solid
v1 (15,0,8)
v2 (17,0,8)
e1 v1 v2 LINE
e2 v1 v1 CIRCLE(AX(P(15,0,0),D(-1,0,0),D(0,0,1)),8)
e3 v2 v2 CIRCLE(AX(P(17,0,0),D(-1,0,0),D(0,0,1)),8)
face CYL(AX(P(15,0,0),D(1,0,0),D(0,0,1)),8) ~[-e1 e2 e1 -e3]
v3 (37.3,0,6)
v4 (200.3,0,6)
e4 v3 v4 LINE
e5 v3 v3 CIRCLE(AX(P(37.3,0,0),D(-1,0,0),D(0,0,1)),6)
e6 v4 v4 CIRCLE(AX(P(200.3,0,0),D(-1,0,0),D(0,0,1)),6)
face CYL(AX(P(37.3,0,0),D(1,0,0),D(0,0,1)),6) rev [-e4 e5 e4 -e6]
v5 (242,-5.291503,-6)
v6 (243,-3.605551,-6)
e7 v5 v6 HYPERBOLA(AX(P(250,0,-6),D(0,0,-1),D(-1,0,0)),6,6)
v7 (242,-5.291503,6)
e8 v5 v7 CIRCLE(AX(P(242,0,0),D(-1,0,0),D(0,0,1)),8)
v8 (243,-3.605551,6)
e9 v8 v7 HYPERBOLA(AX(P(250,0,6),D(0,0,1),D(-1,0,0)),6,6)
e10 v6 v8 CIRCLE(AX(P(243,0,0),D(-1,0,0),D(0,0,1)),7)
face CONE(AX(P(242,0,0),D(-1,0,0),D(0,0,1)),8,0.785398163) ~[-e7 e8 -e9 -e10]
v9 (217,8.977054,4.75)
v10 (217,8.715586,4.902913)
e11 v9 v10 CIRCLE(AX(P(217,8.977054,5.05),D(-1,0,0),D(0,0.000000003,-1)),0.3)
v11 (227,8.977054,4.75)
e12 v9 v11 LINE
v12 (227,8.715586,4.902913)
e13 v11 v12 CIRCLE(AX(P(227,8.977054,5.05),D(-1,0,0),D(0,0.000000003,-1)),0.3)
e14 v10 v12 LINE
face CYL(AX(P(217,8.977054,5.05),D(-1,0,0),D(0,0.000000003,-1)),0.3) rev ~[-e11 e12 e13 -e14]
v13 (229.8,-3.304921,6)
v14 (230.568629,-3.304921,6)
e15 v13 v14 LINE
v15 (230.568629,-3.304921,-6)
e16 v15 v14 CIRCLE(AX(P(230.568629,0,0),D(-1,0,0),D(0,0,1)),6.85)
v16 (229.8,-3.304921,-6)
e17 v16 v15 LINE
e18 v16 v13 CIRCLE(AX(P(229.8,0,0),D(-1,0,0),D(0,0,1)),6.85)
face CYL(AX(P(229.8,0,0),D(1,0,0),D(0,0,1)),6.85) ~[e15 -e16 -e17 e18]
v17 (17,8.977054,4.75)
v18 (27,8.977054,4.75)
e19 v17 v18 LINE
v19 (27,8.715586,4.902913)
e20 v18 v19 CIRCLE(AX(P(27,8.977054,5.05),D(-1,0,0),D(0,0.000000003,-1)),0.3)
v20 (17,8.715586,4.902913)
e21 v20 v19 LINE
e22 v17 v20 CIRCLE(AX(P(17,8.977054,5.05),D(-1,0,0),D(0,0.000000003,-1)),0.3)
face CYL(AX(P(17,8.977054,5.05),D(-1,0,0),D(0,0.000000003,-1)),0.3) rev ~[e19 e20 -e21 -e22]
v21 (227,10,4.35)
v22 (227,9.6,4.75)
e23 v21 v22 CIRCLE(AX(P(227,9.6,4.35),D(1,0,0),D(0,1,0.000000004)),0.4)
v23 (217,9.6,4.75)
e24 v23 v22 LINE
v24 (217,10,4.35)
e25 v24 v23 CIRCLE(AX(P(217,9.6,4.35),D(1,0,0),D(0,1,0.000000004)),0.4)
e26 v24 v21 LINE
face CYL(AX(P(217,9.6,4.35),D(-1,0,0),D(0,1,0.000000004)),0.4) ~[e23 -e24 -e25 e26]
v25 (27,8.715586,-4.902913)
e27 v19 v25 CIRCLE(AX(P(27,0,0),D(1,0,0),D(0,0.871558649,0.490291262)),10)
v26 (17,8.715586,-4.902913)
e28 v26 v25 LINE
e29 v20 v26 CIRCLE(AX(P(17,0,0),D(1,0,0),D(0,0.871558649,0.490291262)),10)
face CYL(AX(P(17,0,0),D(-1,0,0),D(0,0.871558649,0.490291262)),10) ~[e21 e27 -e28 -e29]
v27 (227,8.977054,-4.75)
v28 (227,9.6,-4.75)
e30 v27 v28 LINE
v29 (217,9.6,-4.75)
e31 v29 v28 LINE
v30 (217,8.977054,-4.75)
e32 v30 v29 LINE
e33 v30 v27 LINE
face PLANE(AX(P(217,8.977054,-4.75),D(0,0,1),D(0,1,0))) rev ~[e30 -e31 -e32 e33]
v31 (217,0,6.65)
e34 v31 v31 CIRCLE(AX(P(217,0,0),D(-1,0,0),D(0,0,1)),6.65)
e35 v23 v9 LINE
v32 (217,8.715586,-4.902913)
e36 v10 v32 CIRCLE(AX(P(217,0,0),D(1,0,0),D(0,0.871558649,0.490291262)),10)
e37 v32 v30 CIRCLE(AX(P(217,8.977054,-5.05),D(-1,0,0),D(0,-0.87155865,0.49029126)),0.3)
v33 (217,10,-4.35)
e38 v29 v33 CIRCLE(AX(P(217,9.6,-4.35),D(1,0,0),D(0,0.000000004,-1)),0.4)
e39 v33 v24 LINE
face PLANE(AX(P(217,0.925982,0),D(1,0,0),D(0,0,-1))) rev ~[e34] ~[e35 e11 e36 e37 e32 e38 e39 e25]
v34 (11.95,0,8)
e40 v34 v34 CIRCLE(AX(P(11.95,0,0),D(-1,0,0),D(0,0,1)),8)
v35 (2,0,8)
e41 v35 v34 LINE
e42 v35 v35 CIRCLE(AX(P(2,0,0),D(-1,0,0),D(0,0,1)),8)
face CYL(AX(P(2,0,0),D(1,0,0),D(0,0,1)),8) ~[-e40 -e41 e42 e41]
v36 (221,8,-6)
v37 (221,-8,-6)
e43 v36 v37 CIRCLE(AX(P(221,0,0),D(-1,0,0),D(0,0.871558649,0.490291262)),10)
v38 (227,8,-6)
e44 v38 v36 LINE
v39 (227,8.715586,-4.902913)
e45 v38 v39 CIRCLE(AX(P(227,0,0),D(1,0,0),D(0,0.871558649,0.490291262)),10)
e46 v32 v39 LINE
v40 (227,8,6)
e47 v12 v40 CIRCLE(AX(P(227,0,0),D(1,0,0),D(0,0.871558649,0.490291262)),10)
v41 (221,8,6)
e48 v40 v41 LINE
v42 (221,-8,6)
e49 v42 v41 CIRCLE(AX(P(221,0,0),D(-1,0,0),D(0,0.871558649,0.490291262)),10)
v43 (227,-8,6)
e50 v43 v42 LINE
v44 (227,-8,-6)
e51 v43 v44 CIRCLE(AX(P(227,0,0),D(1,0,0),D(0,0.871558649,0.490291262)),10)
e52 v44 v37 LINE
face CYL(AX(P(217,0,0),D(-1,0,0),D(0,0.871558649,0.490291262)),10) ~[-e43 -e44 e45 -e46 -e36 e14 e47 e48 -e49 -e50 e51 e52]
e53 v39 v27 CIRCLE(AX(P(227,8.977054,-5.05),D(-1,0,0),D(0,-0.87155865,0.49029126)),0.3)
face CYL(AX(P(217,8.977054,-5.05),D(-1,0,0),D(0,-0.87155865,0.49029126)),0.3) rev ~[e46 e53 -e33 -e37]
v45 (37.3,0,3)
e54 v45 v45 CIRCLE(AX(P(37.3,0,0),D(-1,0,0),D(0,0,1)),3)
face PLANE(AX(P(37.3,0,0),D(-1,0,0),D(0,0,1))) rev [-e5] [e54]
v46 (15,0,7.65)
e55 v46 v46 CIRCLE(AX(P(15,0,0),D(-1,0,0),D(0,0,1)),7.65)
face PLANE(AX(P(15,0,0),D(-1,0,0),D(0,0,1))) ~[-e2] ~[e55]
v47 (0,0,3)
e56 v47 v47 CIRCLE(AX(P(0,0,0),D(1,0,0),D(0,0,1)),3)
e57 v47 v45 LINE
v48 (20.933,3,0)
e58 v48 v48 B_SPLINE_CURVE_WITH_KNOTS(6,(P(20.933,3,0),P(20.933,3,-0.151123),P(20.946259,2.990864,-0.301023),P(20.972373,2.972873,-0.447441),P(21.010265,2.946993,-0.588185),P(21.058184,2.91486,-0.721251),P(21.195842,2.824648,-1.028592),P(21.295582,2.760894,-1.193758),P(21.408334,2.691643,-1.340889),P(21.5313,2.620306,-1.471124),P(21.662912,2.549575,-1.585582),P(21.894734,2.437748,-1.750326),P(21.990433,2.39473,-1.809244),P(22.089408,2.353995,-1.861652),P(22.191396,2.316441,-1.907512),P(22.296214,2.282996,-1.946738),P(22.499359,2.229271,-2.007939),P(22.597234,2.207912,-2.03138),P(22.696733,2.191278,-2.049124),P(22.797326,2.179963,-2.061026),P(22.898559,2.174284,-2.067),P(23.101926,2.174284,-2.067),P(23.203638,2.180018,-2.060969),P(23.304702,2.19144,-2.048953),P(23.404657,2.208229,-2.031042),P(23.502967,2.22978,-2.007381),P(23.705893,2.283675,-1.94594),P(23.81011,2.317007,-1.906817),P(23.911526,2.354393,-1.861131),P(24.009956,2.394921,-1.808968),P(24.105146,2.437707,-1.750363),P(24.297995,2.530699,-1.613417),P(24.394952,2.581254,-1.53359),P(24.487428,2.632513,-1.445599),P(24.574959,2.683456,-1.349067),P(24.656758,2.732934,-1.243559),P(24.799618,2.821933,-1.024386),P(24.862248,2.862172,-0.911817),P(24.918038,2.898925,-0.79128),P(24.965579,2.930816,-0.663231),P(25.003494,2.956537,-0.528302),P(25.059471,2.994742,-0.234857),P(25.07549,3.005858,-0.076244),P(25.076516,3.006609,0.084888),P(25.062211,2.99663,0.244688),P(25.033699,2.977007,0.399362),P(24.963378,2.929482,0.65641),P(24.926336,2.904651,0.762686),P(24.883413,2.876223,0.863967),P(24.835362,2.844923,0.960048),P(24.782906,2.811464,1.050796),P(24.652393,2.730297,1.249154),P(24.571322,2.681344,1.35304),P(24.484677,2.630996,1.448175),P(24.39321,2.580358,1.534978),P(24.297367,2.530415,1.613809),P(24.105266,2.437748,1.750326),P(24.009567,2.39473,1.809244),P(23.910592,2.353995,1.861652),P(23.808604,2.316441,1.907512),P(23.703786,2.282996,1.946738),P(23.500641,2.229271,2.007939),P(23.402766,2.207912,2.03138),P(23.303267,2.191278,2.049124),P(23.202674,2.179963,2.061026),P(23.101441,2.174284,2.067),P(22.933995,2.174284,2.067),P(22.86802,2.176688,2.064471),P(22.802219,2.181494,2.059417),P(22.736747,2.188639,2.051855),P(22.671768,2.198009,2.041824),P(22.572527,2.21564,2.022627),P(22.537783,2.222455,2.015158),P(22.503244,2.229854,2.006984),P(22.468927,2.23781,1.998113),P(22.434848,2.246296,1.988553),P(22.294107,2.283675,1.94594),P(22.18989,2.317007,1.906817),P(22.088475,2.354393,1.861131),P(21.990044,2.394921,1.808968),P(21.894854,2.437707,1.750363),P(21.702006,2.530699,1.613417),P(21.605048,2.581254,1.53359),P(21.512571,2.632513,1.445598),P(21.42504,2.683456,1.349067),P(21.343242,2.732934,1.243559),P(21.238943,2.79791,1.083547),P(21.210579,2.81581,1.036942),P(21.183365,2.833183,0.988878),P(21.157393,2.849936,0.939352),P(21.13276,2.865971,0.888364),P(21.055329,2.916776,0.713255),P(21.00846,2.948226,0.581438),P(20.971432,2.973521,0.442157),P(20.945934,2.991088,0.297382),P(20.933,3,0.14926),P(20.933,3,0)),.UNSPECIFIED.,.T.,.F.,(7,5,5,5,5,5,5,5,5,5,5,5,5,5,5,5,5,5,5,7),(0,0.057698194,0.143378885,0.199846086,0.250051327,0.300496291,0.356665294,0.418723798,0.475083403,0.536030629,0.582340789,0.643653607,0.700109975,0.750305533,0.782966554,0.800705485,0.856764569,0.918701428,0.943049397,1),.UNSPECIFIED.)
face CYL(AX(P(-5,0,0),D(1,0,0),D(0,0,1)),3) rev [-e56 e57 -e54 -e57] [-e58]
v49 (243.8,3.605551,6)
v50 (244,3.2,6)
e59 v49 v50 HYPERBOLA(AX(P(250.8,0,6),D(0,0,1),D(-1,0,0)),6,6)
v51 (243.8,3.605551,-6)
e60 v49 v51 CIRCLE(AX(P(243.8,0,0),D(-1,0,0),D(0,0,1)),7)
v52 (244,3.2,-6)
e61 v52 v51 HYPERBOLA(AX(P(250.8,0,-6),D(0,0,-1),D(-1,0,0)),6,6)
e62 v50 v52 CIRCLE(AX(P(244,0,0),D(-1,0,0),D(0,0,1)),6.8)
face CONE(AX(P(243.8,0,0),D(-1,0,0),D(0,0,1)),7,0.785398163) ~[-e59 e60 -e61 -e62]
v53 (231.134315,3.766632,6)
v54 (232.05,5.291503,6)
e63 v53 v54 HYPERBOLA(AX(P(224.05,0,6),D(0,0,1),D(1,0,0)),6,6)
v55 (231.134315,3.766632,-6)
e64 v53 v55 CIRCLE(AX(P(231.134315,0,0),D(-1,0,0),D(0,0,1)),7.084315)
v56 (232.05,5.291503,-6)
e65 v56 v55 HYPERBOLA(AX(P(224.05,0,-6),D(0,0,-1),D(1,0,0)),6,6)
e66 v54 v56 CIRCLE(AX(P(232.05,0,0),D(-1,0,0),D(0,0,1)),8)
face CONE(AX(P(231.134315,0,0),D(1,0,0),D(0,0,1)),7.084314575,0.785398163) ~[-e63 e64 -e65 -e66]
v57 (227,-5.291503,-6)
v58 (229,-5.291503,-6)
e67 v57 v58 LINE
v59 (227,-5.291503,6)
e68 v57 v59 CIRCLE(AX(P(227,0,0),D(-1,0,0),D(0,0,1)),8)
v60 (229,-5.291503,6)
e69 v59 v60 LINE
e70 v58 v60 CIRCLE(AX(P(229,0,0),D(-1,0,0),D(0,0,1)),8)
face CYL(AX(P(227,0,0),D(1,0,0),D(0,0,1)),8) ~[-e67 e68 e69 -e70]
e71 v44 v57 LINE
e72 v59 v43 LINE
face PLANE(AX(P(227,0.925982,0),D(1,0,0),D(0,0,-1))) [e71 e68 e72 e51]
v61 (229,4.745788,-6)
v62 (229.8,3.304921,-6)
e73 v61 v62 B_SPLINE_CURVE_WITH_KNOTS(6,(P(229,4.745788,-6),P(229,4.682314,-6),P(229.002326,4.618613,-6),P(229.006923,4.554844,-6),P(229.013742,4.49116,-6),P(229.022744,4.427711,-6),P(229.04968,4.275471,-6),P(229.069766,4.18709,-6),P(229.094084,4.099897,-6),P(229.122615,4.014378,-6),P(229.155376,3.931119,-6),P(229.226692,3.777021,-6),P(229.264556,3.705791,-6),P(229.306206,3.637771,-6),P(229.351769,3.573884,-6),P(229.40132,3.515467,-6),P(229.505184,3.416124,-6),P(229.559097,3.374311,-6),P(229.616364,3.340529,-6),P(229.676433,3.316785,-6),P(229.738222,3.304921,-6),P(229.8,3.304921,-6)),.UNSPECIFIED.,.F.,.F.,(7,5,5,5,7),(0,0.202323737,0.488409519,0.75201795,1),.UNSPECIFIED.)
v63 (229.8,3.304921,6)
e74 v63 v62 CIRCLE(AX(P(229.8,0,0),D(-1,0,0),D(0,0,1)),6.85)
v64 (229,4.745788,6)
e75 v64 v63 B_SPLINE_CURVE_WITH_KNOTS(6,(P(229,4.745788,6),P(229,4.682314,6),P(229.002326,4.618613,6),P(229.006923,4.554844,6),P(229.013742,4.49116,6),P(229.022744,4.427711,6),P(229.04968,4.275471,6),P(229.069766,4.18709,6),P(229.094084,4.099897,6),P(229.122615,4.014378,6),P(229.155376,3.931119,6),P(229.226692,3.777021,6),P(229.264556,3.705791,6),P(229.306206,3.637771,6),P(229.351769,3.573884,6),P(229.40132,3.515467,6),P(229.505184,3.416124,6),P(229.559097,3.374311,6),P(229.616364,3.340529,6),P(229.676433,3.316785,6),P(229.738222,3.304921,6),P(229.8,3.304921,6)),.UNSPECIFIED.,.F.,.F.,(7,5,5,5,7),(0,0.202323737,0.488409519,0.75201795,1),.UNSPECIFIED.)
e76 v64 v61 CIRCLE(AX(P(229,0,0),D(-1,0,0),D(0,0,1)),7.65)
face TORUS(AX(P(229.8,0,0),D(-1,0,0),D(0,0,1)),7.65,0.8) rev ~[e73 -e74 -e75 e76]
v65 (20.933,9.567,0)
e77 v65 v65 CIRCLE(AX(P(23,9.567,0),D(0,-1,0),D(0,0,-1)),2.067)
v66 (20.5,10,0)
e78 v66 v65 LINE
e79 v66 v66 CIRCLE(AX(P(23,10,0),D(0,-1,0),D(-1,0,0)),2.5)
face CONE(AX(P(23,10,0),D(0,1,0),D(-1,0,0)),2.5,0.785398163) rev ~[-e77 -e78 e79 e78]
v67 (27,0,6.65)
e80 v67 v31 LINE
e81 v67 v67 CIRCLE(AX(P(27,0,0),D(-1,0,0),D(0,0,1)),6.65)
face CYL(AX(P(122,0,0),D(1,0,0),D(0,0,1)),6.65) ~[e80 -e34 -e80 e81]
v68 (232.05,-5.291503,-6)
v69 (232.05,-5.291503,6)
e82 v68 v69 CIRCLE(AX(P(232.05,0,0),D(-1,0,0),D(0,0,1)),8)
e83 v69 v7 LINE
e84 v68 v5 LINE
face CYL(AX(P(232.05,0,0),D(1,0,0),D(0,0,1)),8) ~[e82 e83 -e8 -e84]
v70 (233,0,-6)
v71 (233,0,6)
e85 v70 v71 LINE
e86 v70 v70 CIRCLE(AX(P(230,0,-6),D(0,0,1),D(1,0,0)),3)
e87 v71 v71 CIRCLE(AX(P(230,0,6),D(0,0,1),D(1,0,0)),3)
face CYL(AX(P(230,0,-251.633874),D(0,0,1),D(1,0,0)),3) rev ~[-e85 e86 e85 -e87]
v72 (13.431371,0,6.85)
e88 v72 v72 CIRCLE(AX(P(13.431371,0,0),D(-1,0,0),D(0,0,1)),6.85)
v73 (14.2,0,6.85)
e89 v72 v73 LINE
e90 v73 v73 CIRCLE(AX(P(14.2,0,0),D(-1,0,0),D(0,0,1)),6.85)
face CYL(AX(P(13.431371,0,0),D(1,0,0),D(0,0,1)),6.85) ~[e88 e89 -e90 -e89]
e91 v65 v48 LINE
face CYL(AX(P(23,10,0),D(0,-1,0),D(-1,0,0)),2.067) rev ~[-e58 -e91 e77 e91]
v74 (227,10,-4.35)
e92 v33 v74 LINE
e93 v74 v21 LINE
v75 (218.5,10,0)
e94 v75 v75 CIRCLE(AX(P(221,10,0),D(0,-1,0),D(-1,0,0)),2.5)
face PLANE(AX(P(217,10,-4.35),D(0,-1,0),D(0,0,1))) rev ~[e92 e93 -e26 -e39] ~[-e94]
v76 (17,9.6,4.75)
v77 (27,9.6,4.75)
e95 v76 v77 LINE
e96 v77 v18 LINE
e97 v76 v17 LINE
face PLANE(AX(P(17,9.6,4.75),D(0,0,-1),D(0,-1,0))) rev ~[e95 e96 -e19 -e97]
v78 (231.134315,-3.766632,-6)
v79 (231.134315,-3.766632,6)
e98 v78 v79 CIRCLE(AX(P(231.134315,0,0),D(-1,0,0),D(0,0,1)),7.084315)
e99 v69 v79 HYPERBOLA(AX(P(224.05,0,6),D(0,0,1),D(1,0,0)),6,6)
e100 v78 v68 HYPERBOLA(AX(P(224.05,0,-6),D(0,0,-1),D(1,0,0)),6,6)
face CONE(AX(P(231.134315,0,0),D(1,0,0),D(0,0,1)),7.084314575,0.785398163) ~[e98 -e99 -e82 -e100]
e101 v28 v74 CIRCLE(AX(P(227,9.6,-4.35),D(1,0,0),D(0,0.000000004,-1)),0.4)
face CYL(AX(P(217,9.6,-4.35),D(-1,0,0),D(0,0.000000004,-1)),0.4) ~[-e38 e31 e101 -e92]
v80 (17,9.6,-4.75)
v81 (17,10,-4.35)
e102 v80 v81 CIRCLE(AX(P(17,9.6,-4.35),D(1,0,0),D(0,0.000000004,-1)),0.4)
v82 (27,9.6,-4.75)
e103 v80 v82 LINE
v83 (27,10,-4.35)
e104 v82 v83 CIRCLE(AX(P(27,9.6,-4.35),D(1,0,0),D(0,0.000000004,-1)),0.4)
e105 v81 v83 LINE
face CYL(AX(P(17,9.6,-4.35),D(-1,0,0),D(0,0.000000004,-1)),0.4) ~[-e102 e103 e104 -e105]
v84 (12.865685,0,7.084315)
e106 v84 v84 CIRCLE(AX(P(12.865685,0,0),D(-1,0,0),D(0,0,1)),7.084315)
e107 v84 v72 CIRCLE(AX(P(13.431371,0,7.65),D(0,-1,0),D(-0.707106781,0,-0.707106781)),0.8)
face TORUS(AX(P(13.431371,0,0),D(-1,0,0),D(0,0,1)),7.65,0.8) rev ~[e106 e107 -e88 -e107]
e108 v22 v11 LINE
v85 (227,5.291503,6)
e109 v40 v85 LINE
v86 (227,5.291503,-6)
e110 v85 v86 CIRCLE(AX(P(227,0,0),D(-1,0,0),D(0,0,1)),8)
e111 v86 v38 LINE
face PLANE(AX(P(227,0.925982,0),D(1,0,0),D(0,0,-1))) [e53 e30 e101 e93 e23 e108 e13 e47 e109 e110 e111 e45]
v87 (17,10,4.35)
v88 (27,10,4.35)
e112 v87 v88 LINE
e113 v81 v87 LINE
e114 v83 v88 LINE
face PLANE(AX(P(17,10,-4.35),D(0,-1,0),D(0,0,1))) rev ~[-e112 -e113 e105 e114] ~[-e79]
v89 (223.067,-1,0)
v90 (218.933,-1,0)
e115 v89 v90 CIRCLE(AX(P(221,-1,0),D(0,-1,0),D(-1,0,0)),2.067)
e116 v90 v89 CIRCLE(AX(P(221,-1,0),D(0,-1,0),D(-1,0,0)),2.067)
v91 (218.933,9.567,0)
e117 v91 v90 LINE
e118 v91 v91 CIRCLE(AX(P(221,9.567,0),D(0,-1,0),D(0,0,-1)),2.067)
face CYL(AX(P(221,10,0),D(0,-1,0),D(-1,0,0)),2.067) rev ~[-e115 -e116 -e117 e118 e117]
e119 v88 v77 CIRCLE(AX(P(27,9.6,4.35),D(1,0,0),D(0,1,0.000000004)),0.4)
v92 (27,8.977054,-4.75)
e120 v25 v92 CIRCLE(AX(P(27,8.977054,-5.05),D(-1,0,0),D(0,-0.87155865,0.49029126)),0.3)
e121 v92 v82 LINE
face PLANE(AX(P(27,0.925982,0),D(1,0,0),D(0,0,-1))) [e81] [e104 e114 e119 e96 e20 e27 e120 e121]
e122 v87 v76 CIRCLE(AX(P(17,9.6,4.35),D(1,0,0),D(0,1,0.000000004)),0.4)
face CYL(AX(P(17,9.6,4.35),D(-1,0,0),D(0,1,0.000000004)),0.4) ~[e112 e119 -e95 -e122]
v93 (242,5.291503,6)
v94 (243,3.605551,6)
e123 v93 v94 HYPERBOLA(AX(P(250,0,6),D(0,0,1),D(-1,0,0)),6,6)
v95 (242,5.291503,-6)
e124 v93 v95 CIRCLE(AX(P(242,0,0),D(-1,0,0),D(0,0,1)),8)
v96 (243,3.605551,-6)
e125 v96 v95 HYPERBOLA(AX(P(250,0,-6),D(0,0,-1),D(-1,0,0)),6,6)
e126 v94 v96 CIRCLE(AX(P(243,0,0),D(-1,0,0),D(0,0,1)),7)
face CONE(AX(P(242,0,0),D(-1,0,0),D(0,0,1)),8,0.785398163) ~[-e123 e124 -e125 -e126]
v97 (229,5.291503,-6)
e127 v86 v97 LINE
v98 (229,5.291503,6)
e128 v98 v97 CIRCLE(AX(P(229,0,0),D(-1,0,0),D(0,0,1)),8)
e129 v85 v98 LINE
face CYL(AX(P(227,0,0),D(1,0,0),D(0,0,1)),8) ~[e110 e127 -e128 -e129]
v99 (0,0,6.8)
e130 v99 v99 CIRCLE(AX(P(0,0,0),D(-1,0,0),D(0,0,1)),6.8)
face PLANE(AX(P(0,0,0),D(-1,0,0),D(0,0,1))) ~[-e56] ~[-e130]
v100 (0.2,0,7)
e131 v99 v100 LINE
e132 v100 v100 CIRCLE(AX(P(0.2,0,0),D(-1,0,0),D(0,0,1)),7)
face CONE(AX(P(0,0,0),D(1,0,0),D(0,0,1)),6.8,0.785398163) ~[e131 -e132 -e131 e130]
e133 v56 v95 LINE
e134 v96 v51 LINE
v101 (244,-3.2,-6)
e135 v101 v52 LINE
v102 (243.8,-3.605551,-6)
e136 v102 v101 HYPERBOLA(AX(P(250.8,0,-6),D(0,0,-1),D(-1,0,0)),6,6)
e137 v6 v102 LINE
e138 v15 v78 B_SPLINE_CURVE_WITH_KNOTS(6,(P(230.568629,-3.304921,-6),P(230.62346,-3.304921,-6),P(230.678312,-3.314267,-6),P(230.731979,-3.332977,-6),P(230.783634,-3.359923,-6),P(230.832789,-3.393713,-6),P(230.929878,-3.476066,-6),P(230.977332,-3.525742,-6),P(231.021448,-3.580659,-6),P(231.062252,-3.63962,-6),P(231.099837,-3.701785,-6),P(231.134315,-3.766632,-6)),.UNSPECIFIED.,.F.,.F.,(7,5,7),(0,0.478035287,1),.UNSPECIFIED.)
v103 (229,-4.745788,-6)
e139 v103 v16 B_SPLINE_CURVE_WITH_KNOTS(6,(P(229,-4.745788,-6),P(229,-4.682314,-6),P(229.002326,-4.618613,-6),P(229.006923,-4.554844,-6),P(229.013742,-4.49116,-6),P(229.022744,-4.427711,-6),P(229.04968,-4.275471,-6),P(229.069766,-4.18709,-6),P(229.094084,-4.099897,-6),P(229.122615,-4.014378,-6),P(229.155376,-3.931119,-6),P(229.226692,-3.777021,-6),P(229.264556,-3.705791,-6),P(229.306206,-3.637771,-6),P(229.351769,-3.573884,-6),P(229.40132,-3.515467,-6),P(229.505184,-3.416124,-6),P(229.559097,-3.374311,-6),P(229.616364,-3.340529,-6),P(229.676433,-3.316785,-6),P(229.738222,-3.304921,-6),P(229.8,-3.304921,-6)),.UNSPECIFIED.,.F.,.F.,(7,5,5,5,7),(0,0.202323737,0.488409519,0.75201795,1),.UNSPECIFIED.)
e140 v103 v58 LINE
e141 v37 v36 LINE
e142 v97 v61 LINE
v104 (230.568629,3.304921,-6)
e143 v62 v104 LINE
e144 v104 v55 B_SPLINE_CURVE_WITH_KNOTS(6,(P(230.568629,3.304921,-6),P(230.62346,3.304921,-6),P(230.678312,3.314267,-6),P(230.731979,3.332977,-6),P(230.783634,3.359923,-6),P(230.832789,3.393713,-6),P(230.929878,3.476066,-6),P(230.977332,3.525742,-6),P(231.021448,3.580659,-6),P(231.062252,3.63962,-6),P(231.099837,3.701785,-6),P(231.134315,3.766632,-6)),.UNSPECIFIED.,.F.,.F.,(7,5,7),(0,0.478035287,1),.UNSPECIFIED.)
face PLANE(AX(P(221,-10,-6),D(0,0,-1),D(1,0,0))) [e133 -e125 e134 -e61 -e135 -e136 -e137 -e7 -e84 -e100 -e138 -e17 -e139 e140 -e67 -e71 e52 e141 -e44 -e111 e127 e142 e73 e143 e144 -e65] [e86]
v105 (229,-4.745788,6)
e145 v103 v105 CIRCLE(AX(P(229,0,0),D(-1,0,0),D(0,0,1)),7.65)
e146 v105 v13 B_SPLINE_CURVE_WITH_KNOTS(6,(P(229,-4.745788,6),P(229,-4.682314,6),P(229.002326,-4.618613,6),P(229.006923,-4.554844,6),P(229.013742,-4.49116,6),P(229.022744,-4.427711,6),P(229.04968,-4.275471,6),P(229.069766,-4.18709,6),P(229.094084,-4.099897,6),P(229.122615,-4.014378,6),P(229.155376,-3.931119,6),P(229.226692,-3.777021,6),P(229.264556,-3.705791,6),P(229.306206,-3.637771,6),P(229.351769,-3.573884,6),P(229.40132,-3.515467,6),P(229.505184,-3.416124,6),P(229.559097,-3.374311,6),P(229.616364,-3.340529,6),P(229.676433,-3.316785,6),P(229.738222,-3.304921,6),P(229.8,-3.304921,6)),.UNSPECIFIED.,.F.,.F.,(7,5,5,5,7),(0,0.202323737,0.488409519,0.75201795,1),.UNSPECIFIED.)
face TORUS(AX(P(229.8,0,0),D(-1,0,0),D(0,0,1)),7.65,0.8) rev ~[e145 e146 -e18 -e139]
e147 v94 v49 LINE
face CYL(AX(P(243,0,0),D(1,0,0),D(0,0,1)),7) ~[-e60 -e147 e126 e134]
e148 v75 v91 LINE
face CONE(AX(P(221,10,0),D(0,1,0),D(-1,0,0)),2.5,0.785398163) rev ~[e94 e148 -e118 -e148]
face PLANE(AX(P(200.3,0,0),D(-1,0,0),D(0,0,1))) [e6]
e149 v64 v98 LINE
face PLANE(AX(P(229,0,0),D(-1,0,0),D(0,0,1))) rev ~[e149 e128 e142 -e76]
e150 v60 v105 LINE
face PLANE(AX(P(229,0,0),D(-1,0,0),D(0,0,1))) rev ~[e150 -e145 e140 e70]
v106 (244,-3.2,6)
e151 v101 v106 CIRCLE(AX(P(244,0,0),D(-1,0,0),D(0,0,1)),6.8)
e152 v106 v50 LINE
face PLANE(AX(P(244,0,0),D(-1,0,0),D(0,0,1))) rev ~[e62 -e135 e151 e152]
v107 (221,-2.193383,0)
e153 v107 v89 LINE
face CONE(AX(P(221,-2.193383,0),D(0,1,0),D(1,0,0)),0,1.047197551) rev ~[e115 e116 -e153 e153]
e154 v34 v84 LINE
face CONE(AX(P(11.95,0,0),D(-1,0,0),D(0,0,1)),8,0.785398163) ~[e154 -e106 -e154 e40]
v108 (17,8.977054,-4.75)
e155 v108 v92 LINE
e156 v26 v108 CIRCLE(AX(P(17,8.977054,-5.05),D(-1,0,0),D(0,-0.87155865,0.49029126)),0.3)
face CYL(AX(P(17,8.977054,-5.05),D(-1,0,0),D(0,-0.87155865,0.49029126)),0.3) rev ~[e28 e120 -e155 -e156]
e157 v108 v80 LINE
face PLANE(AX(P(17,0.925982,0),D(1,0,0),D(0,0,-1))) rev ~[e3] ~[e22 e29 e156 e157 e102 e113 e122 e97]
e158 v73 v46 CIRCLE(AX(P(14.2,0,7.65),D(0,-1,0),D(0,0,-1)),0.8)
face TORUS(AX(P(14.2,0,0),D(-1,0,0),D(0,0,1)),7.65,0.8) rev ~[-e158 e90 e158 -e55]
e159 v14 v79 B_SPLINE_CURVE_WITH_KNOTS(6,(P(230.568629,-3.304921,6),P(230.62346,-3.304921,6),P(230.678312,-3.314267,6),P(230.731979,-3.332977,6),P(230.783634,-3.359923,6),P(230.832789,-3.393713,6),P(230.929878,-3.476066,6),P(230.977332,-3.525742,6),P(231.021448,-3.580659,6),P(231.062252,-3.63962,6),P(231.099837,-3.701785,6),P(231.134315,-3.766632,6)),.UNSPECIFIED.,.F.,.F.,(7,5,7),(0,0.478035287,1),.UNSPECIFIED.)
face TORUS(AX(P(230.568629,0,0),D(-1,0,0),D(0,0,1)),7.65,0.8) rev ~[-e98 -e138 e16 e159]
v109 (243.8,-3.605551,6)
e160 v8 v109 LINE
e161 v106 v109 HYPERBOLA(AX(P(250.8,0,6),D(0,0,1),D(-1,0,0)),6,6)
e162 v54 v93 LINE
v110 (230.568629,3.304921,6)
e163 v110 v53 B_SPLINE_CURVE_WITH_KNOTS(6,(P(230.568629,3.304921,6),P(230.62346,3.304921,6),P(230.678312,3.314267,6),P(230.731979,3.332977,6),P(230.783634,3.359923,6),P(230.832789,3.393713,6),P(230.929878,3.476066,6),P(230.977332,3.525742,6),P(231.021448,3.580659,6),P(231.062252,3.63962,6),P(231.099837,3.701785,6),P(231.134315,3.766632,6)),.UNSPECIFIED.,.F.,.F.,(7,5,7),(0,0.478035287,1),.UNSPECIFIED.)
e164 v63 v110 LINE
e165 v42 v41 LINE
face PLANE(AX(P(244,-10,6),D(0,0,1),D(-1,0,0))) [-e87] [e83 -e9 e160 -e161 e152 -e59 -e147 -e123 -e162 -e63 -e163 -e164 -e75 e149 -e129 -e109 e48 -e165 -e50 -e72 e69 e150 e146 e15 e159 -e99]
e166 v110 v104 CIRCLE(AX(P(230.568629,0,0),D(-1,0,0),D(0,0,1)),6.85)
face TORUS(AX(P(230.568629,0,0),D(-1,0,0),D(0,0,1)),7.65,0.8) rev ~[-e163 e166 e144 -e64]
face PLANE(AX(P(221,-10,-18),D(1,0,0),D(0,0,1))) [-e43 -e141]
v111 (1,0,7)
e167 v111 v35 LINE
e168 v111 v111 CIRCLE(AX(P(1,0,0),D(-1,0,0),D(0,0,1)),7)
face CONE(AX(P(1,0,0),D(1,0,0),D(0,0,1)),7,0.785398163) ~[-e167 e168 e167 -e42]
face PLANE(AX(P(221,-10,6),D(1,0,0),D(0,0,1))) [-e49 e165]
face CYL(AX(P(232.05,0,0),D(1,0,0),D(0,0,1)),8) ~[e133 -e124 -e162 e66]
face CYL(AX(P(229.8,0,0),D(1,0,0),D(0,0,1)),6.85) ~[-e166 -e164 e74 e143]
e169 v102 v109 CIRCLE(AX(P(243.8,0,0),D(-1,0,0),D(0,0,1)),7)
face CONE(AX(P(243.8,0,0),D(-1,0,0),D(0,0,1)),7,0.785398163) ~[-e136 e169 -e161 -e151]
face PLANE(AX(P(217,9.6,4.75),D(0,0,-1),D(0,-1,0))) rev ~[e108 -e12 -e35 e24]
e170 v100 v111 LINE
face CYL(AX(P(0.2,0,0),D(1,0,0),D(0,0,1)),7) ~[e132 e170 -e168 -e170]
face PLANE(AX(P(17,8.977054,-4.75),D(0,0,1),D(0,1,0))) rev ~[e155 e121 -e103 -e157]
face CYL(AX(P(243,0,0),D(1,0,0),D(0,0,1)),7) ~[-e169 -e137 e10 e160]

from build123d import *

# Parameters (mm, degrees)
AUFSATZ_LINEAR_AUSTRAGEN1_DEPTH      = 10
SKIZZE3_W                            = 190
SKIZZE3_H                            = 6.65
AUFSATZ_LINEAR_AUSTRAGEN2_DEPTH      = 10
SCHNITT_LINEAR_AUSTRAGEN1_DEPTH      = 10
SCHNITT_LINEAR_AUSTRAGEN1_DEPTH_BACK = 10
BOHRUNG1_D                           = 6
BOHRUNG2_D                           = 4.134
BOHRUNG2_DEPTH                       = 10
BOHRUNG2_CSINK_D                     = 5
BOHRUNG2_CSINK_ANGLE                 = 90
BOHRUNG3_D                           = 4.134
BOHRUNG3_DEPTH                       = 11
BOHRUNG3_CSINK_D                     = 5
BOHRUNG3_CSINK_ANGLE                 = 90
BOHRUNG3_TIP                         = 1.193383006


with BuildPart() as part:
    # Skizze1 → Rotation1 (revolve)
    with BuildSketch(Plane.XY):
        with BuildLine():
            Line((0, 0), (0, 6.8))
            Line((0, 6.8), (0.2, 7))
            Line((0.2, 7), (1, 7))
            Line((1, 7), (2, 8))
            Line((2, 8), (11.95, 8))
            Line((11.95, 8), (12.865685425, 7.084314575))
            ThreePointArc((12.865685425, 7.084314575), (13.125224104, 6.910896374), (13.43137085, 6.85))
            Line((13.43137085, 6.85), (14.2, 6.85))
            ThreePointArc((14.2, 6.85), (14.765685425, 7.084314575), (15, 7.65))
            Line((15, 7.65), (15, 8))
            Line((15, 8), (17, 8))
            Line((17, 8), (17, 0))
            Line((17, 0), (0, 0))
        make_face()
    revolve(axis=Axis((17, 0, 0), (-1, 0, 0)))

    # Skizze2 → Aufsatz-Linear austragen1 (add)
    with BuildSketch(Plane(origin=(17, 0, 0), x_dir=(0, 0, -1), z_dir=(1, 0, 0))):
        with BuildLine():
            Line((4.75, 8.977054082), (4.75, 9.6))
            ThreePointArc((4.75, 9.6), (4.632842712, 9.882842712), (4.35, 10))
            Line((4.35, 10), (-4.35, 10))
            ThreePointArc((-4.35, 10), (-4.632842712, 9.882842712), (-4.75, 9.6))
            Line((-4.75, 9.6), (-4.75, 8.977054082))
            ThreePointArc((-4.75, 8.977054082), (-4.791034545, 8.825604773), (-4.902912621, 8.715586488))
            ThreePointArc((-4.902912621, 8.715586488), (0, -10), (4.902912621, 8.715586488))
            ThreePointArc((4.902912621, 8.715586488), (4.791034545, 8.825604773), (4.75, 8.977054082))
        make_face()
    extrude(amount=AUFSATZ_LINEAR_AUSTRAGEN1_DEPTH)

    # Skizze3 → Rotation2 (revolve)
    with BuildSketch(Plane.XY):
        with Locations((122, 3.325)):
            Rectangle(SKIZZE3_W, SKIZZE3_H)
    revolve(axis=Axis((217, 0, 0), (-1, 0, 0)))

    # Skizze4 → Aufsatz-Linear austragen2 (add)
    with BuildSketch(Plane(origin=(217, 0, 0), x_dir=(0, 0, -1), z_dir=(1, 0, 0))):
        with BuildLine():
            Line((4.75, 8.977054082), (4.75, 9.6))
            ThreePointArc((4.75, 9.6), (4.632842712, 9.882842712), (4.35, 10))
            Line((4.35, 10), (-4.35, 10))
            ThreePointArc((-4.35, 10), (-4.632842712, 9.882842712), (-4.75, 9.6))
            Line((-4.75, 9.6), (-4.75, 8.977054082))
            ThreePointArc((-4.75, 8.977054082), (-4.791034545, 8.825604773), (-4.902912621, 8.715586488))
            ThreePointArc((-4.902912621, 8.715586488), (0, -10), (4.902912621, 8.715586488))
            ThreePointArc((4.902912621, 8.715586488), (4.791034545, 8.825604773), (4.75, 8.977054082))
        make_face()
    extrude(amount=AUFSATZ_LINEAR_AUSTRAGEN2_DEPTH)

    # Skizze5 → Rotation3 (revolve)
    with BuildSketch(Plane.XY):
        with BuildLine():
            Line((227, 0), (227, 8))
            Line((227, 8), (229, 8))
            Line((229, 8), (229, 7.65))
            ThreePointArc((229, 7.65), (229.234314575, 7.084314575), (229.8, 6.85))
            Line((229.8, 6.85), (230.56862915, 6.85))
            ThreePointArc((230.56862915, 6.85), (230.874775896, 6.910896374), (231.134314575, 7.084314575))
            Line((231.134314575, 7.084314575), (232.05, 8))
            Line((232.05, 8), (242, 8))
            Line((242, 8), (243, 7))
            Line((243, 7), (243.8, 7))
            Line((243.8, 7), (244, 6.8))
            Line((244, 6.8), (244, 0))
            Line((244, 0), (227, 0))
        make_face()
    revolve(axis=Axis((244, 0, 0), (-1, 0, 0)))

    # Skizze6 → Schnitt-Linear austragen1 (cut, two sides: drawn at the far end of the back side and taken through both)
    with BuildSketch(Plane(origin=(0, 0, 0), x_dir=(1, 0, 0), z_dir=(0, 1, 0)).offset(-SCHNITT_LINEAR_AUSTRAGEN1_DEPTH_BACK)):
        Polygon((221, 18), (221, 6), (244, 6), (244, -6), (221, -6), (221, -18), (256, -18), (256, 18), align=None)
    extrude(amount=SCHNITT_LINEAR_AUSTRAGEN1_DEPTH + SCHNITT_LINEAR_AUSTRAGEN1_DEPTH_BACK, mode=Mode.SUBTRACT)

    # Bohrung1 (through all)
    with Locations(Plane(origin=(0, 0, -6), x_dir=(-1, 0, 0), z_dir=(0, 0, -1))):
        with Locations((-230, 0)):
            Hole(BOHRUNG1_D / 2)

    # Bohrung2
    with Locations(Plane(origin=(0, 10, 0), x_dir=(1, 0, 0), z_dir=(0, 1, 0))):
        with Locations((23, 0)):
            CounterSinkHole(BOHRUNG2_D / 2, BOHRUNG2_CSINK_D / 2, depth=BOHRUNG2_DEPTH, counter_sink_angle=BOHRUNG2_CSINK_ANGLE)

    # Bohrung3
    with Locations(Plane(origin=(0, 10, 0), x_dir=(1, 0, 0), z_dir=(0, 1, 0))):
        with Locations((221, 0)):
            CounterSinkHole(BOHRUNG3_D / 2, BOHRUNG3_CSINK_D / 2, depth=BOHRUNG3_DEPTH, counter_sink_angle=BOHRUNG3_CSINK_ANGLE)
            with Locations((0, 0, -(BOHRUNG3_DEPTH + BOHRUNG3_TIP / 2))):  # 120° drill point
                Cone(0, BOHRUNG3_D / 2, BOHRUNG3_TIP, mode=Mode.SUBTRACT)

    # Skizze13 → Schnitt-Rotation1 (revolve, cut)
    with BuildSketch(Plane.XY):
        Polygon((-5, 0), (-5, 3), (37.3, 3), (37.3, 6), (200.3, 6), (200.3, 0), align=None)
    revolve(axis=Axis((200.3, 0, 0), (-1, 0, 0)), mode=Mode.SUBTRACT)


solid = part.part
